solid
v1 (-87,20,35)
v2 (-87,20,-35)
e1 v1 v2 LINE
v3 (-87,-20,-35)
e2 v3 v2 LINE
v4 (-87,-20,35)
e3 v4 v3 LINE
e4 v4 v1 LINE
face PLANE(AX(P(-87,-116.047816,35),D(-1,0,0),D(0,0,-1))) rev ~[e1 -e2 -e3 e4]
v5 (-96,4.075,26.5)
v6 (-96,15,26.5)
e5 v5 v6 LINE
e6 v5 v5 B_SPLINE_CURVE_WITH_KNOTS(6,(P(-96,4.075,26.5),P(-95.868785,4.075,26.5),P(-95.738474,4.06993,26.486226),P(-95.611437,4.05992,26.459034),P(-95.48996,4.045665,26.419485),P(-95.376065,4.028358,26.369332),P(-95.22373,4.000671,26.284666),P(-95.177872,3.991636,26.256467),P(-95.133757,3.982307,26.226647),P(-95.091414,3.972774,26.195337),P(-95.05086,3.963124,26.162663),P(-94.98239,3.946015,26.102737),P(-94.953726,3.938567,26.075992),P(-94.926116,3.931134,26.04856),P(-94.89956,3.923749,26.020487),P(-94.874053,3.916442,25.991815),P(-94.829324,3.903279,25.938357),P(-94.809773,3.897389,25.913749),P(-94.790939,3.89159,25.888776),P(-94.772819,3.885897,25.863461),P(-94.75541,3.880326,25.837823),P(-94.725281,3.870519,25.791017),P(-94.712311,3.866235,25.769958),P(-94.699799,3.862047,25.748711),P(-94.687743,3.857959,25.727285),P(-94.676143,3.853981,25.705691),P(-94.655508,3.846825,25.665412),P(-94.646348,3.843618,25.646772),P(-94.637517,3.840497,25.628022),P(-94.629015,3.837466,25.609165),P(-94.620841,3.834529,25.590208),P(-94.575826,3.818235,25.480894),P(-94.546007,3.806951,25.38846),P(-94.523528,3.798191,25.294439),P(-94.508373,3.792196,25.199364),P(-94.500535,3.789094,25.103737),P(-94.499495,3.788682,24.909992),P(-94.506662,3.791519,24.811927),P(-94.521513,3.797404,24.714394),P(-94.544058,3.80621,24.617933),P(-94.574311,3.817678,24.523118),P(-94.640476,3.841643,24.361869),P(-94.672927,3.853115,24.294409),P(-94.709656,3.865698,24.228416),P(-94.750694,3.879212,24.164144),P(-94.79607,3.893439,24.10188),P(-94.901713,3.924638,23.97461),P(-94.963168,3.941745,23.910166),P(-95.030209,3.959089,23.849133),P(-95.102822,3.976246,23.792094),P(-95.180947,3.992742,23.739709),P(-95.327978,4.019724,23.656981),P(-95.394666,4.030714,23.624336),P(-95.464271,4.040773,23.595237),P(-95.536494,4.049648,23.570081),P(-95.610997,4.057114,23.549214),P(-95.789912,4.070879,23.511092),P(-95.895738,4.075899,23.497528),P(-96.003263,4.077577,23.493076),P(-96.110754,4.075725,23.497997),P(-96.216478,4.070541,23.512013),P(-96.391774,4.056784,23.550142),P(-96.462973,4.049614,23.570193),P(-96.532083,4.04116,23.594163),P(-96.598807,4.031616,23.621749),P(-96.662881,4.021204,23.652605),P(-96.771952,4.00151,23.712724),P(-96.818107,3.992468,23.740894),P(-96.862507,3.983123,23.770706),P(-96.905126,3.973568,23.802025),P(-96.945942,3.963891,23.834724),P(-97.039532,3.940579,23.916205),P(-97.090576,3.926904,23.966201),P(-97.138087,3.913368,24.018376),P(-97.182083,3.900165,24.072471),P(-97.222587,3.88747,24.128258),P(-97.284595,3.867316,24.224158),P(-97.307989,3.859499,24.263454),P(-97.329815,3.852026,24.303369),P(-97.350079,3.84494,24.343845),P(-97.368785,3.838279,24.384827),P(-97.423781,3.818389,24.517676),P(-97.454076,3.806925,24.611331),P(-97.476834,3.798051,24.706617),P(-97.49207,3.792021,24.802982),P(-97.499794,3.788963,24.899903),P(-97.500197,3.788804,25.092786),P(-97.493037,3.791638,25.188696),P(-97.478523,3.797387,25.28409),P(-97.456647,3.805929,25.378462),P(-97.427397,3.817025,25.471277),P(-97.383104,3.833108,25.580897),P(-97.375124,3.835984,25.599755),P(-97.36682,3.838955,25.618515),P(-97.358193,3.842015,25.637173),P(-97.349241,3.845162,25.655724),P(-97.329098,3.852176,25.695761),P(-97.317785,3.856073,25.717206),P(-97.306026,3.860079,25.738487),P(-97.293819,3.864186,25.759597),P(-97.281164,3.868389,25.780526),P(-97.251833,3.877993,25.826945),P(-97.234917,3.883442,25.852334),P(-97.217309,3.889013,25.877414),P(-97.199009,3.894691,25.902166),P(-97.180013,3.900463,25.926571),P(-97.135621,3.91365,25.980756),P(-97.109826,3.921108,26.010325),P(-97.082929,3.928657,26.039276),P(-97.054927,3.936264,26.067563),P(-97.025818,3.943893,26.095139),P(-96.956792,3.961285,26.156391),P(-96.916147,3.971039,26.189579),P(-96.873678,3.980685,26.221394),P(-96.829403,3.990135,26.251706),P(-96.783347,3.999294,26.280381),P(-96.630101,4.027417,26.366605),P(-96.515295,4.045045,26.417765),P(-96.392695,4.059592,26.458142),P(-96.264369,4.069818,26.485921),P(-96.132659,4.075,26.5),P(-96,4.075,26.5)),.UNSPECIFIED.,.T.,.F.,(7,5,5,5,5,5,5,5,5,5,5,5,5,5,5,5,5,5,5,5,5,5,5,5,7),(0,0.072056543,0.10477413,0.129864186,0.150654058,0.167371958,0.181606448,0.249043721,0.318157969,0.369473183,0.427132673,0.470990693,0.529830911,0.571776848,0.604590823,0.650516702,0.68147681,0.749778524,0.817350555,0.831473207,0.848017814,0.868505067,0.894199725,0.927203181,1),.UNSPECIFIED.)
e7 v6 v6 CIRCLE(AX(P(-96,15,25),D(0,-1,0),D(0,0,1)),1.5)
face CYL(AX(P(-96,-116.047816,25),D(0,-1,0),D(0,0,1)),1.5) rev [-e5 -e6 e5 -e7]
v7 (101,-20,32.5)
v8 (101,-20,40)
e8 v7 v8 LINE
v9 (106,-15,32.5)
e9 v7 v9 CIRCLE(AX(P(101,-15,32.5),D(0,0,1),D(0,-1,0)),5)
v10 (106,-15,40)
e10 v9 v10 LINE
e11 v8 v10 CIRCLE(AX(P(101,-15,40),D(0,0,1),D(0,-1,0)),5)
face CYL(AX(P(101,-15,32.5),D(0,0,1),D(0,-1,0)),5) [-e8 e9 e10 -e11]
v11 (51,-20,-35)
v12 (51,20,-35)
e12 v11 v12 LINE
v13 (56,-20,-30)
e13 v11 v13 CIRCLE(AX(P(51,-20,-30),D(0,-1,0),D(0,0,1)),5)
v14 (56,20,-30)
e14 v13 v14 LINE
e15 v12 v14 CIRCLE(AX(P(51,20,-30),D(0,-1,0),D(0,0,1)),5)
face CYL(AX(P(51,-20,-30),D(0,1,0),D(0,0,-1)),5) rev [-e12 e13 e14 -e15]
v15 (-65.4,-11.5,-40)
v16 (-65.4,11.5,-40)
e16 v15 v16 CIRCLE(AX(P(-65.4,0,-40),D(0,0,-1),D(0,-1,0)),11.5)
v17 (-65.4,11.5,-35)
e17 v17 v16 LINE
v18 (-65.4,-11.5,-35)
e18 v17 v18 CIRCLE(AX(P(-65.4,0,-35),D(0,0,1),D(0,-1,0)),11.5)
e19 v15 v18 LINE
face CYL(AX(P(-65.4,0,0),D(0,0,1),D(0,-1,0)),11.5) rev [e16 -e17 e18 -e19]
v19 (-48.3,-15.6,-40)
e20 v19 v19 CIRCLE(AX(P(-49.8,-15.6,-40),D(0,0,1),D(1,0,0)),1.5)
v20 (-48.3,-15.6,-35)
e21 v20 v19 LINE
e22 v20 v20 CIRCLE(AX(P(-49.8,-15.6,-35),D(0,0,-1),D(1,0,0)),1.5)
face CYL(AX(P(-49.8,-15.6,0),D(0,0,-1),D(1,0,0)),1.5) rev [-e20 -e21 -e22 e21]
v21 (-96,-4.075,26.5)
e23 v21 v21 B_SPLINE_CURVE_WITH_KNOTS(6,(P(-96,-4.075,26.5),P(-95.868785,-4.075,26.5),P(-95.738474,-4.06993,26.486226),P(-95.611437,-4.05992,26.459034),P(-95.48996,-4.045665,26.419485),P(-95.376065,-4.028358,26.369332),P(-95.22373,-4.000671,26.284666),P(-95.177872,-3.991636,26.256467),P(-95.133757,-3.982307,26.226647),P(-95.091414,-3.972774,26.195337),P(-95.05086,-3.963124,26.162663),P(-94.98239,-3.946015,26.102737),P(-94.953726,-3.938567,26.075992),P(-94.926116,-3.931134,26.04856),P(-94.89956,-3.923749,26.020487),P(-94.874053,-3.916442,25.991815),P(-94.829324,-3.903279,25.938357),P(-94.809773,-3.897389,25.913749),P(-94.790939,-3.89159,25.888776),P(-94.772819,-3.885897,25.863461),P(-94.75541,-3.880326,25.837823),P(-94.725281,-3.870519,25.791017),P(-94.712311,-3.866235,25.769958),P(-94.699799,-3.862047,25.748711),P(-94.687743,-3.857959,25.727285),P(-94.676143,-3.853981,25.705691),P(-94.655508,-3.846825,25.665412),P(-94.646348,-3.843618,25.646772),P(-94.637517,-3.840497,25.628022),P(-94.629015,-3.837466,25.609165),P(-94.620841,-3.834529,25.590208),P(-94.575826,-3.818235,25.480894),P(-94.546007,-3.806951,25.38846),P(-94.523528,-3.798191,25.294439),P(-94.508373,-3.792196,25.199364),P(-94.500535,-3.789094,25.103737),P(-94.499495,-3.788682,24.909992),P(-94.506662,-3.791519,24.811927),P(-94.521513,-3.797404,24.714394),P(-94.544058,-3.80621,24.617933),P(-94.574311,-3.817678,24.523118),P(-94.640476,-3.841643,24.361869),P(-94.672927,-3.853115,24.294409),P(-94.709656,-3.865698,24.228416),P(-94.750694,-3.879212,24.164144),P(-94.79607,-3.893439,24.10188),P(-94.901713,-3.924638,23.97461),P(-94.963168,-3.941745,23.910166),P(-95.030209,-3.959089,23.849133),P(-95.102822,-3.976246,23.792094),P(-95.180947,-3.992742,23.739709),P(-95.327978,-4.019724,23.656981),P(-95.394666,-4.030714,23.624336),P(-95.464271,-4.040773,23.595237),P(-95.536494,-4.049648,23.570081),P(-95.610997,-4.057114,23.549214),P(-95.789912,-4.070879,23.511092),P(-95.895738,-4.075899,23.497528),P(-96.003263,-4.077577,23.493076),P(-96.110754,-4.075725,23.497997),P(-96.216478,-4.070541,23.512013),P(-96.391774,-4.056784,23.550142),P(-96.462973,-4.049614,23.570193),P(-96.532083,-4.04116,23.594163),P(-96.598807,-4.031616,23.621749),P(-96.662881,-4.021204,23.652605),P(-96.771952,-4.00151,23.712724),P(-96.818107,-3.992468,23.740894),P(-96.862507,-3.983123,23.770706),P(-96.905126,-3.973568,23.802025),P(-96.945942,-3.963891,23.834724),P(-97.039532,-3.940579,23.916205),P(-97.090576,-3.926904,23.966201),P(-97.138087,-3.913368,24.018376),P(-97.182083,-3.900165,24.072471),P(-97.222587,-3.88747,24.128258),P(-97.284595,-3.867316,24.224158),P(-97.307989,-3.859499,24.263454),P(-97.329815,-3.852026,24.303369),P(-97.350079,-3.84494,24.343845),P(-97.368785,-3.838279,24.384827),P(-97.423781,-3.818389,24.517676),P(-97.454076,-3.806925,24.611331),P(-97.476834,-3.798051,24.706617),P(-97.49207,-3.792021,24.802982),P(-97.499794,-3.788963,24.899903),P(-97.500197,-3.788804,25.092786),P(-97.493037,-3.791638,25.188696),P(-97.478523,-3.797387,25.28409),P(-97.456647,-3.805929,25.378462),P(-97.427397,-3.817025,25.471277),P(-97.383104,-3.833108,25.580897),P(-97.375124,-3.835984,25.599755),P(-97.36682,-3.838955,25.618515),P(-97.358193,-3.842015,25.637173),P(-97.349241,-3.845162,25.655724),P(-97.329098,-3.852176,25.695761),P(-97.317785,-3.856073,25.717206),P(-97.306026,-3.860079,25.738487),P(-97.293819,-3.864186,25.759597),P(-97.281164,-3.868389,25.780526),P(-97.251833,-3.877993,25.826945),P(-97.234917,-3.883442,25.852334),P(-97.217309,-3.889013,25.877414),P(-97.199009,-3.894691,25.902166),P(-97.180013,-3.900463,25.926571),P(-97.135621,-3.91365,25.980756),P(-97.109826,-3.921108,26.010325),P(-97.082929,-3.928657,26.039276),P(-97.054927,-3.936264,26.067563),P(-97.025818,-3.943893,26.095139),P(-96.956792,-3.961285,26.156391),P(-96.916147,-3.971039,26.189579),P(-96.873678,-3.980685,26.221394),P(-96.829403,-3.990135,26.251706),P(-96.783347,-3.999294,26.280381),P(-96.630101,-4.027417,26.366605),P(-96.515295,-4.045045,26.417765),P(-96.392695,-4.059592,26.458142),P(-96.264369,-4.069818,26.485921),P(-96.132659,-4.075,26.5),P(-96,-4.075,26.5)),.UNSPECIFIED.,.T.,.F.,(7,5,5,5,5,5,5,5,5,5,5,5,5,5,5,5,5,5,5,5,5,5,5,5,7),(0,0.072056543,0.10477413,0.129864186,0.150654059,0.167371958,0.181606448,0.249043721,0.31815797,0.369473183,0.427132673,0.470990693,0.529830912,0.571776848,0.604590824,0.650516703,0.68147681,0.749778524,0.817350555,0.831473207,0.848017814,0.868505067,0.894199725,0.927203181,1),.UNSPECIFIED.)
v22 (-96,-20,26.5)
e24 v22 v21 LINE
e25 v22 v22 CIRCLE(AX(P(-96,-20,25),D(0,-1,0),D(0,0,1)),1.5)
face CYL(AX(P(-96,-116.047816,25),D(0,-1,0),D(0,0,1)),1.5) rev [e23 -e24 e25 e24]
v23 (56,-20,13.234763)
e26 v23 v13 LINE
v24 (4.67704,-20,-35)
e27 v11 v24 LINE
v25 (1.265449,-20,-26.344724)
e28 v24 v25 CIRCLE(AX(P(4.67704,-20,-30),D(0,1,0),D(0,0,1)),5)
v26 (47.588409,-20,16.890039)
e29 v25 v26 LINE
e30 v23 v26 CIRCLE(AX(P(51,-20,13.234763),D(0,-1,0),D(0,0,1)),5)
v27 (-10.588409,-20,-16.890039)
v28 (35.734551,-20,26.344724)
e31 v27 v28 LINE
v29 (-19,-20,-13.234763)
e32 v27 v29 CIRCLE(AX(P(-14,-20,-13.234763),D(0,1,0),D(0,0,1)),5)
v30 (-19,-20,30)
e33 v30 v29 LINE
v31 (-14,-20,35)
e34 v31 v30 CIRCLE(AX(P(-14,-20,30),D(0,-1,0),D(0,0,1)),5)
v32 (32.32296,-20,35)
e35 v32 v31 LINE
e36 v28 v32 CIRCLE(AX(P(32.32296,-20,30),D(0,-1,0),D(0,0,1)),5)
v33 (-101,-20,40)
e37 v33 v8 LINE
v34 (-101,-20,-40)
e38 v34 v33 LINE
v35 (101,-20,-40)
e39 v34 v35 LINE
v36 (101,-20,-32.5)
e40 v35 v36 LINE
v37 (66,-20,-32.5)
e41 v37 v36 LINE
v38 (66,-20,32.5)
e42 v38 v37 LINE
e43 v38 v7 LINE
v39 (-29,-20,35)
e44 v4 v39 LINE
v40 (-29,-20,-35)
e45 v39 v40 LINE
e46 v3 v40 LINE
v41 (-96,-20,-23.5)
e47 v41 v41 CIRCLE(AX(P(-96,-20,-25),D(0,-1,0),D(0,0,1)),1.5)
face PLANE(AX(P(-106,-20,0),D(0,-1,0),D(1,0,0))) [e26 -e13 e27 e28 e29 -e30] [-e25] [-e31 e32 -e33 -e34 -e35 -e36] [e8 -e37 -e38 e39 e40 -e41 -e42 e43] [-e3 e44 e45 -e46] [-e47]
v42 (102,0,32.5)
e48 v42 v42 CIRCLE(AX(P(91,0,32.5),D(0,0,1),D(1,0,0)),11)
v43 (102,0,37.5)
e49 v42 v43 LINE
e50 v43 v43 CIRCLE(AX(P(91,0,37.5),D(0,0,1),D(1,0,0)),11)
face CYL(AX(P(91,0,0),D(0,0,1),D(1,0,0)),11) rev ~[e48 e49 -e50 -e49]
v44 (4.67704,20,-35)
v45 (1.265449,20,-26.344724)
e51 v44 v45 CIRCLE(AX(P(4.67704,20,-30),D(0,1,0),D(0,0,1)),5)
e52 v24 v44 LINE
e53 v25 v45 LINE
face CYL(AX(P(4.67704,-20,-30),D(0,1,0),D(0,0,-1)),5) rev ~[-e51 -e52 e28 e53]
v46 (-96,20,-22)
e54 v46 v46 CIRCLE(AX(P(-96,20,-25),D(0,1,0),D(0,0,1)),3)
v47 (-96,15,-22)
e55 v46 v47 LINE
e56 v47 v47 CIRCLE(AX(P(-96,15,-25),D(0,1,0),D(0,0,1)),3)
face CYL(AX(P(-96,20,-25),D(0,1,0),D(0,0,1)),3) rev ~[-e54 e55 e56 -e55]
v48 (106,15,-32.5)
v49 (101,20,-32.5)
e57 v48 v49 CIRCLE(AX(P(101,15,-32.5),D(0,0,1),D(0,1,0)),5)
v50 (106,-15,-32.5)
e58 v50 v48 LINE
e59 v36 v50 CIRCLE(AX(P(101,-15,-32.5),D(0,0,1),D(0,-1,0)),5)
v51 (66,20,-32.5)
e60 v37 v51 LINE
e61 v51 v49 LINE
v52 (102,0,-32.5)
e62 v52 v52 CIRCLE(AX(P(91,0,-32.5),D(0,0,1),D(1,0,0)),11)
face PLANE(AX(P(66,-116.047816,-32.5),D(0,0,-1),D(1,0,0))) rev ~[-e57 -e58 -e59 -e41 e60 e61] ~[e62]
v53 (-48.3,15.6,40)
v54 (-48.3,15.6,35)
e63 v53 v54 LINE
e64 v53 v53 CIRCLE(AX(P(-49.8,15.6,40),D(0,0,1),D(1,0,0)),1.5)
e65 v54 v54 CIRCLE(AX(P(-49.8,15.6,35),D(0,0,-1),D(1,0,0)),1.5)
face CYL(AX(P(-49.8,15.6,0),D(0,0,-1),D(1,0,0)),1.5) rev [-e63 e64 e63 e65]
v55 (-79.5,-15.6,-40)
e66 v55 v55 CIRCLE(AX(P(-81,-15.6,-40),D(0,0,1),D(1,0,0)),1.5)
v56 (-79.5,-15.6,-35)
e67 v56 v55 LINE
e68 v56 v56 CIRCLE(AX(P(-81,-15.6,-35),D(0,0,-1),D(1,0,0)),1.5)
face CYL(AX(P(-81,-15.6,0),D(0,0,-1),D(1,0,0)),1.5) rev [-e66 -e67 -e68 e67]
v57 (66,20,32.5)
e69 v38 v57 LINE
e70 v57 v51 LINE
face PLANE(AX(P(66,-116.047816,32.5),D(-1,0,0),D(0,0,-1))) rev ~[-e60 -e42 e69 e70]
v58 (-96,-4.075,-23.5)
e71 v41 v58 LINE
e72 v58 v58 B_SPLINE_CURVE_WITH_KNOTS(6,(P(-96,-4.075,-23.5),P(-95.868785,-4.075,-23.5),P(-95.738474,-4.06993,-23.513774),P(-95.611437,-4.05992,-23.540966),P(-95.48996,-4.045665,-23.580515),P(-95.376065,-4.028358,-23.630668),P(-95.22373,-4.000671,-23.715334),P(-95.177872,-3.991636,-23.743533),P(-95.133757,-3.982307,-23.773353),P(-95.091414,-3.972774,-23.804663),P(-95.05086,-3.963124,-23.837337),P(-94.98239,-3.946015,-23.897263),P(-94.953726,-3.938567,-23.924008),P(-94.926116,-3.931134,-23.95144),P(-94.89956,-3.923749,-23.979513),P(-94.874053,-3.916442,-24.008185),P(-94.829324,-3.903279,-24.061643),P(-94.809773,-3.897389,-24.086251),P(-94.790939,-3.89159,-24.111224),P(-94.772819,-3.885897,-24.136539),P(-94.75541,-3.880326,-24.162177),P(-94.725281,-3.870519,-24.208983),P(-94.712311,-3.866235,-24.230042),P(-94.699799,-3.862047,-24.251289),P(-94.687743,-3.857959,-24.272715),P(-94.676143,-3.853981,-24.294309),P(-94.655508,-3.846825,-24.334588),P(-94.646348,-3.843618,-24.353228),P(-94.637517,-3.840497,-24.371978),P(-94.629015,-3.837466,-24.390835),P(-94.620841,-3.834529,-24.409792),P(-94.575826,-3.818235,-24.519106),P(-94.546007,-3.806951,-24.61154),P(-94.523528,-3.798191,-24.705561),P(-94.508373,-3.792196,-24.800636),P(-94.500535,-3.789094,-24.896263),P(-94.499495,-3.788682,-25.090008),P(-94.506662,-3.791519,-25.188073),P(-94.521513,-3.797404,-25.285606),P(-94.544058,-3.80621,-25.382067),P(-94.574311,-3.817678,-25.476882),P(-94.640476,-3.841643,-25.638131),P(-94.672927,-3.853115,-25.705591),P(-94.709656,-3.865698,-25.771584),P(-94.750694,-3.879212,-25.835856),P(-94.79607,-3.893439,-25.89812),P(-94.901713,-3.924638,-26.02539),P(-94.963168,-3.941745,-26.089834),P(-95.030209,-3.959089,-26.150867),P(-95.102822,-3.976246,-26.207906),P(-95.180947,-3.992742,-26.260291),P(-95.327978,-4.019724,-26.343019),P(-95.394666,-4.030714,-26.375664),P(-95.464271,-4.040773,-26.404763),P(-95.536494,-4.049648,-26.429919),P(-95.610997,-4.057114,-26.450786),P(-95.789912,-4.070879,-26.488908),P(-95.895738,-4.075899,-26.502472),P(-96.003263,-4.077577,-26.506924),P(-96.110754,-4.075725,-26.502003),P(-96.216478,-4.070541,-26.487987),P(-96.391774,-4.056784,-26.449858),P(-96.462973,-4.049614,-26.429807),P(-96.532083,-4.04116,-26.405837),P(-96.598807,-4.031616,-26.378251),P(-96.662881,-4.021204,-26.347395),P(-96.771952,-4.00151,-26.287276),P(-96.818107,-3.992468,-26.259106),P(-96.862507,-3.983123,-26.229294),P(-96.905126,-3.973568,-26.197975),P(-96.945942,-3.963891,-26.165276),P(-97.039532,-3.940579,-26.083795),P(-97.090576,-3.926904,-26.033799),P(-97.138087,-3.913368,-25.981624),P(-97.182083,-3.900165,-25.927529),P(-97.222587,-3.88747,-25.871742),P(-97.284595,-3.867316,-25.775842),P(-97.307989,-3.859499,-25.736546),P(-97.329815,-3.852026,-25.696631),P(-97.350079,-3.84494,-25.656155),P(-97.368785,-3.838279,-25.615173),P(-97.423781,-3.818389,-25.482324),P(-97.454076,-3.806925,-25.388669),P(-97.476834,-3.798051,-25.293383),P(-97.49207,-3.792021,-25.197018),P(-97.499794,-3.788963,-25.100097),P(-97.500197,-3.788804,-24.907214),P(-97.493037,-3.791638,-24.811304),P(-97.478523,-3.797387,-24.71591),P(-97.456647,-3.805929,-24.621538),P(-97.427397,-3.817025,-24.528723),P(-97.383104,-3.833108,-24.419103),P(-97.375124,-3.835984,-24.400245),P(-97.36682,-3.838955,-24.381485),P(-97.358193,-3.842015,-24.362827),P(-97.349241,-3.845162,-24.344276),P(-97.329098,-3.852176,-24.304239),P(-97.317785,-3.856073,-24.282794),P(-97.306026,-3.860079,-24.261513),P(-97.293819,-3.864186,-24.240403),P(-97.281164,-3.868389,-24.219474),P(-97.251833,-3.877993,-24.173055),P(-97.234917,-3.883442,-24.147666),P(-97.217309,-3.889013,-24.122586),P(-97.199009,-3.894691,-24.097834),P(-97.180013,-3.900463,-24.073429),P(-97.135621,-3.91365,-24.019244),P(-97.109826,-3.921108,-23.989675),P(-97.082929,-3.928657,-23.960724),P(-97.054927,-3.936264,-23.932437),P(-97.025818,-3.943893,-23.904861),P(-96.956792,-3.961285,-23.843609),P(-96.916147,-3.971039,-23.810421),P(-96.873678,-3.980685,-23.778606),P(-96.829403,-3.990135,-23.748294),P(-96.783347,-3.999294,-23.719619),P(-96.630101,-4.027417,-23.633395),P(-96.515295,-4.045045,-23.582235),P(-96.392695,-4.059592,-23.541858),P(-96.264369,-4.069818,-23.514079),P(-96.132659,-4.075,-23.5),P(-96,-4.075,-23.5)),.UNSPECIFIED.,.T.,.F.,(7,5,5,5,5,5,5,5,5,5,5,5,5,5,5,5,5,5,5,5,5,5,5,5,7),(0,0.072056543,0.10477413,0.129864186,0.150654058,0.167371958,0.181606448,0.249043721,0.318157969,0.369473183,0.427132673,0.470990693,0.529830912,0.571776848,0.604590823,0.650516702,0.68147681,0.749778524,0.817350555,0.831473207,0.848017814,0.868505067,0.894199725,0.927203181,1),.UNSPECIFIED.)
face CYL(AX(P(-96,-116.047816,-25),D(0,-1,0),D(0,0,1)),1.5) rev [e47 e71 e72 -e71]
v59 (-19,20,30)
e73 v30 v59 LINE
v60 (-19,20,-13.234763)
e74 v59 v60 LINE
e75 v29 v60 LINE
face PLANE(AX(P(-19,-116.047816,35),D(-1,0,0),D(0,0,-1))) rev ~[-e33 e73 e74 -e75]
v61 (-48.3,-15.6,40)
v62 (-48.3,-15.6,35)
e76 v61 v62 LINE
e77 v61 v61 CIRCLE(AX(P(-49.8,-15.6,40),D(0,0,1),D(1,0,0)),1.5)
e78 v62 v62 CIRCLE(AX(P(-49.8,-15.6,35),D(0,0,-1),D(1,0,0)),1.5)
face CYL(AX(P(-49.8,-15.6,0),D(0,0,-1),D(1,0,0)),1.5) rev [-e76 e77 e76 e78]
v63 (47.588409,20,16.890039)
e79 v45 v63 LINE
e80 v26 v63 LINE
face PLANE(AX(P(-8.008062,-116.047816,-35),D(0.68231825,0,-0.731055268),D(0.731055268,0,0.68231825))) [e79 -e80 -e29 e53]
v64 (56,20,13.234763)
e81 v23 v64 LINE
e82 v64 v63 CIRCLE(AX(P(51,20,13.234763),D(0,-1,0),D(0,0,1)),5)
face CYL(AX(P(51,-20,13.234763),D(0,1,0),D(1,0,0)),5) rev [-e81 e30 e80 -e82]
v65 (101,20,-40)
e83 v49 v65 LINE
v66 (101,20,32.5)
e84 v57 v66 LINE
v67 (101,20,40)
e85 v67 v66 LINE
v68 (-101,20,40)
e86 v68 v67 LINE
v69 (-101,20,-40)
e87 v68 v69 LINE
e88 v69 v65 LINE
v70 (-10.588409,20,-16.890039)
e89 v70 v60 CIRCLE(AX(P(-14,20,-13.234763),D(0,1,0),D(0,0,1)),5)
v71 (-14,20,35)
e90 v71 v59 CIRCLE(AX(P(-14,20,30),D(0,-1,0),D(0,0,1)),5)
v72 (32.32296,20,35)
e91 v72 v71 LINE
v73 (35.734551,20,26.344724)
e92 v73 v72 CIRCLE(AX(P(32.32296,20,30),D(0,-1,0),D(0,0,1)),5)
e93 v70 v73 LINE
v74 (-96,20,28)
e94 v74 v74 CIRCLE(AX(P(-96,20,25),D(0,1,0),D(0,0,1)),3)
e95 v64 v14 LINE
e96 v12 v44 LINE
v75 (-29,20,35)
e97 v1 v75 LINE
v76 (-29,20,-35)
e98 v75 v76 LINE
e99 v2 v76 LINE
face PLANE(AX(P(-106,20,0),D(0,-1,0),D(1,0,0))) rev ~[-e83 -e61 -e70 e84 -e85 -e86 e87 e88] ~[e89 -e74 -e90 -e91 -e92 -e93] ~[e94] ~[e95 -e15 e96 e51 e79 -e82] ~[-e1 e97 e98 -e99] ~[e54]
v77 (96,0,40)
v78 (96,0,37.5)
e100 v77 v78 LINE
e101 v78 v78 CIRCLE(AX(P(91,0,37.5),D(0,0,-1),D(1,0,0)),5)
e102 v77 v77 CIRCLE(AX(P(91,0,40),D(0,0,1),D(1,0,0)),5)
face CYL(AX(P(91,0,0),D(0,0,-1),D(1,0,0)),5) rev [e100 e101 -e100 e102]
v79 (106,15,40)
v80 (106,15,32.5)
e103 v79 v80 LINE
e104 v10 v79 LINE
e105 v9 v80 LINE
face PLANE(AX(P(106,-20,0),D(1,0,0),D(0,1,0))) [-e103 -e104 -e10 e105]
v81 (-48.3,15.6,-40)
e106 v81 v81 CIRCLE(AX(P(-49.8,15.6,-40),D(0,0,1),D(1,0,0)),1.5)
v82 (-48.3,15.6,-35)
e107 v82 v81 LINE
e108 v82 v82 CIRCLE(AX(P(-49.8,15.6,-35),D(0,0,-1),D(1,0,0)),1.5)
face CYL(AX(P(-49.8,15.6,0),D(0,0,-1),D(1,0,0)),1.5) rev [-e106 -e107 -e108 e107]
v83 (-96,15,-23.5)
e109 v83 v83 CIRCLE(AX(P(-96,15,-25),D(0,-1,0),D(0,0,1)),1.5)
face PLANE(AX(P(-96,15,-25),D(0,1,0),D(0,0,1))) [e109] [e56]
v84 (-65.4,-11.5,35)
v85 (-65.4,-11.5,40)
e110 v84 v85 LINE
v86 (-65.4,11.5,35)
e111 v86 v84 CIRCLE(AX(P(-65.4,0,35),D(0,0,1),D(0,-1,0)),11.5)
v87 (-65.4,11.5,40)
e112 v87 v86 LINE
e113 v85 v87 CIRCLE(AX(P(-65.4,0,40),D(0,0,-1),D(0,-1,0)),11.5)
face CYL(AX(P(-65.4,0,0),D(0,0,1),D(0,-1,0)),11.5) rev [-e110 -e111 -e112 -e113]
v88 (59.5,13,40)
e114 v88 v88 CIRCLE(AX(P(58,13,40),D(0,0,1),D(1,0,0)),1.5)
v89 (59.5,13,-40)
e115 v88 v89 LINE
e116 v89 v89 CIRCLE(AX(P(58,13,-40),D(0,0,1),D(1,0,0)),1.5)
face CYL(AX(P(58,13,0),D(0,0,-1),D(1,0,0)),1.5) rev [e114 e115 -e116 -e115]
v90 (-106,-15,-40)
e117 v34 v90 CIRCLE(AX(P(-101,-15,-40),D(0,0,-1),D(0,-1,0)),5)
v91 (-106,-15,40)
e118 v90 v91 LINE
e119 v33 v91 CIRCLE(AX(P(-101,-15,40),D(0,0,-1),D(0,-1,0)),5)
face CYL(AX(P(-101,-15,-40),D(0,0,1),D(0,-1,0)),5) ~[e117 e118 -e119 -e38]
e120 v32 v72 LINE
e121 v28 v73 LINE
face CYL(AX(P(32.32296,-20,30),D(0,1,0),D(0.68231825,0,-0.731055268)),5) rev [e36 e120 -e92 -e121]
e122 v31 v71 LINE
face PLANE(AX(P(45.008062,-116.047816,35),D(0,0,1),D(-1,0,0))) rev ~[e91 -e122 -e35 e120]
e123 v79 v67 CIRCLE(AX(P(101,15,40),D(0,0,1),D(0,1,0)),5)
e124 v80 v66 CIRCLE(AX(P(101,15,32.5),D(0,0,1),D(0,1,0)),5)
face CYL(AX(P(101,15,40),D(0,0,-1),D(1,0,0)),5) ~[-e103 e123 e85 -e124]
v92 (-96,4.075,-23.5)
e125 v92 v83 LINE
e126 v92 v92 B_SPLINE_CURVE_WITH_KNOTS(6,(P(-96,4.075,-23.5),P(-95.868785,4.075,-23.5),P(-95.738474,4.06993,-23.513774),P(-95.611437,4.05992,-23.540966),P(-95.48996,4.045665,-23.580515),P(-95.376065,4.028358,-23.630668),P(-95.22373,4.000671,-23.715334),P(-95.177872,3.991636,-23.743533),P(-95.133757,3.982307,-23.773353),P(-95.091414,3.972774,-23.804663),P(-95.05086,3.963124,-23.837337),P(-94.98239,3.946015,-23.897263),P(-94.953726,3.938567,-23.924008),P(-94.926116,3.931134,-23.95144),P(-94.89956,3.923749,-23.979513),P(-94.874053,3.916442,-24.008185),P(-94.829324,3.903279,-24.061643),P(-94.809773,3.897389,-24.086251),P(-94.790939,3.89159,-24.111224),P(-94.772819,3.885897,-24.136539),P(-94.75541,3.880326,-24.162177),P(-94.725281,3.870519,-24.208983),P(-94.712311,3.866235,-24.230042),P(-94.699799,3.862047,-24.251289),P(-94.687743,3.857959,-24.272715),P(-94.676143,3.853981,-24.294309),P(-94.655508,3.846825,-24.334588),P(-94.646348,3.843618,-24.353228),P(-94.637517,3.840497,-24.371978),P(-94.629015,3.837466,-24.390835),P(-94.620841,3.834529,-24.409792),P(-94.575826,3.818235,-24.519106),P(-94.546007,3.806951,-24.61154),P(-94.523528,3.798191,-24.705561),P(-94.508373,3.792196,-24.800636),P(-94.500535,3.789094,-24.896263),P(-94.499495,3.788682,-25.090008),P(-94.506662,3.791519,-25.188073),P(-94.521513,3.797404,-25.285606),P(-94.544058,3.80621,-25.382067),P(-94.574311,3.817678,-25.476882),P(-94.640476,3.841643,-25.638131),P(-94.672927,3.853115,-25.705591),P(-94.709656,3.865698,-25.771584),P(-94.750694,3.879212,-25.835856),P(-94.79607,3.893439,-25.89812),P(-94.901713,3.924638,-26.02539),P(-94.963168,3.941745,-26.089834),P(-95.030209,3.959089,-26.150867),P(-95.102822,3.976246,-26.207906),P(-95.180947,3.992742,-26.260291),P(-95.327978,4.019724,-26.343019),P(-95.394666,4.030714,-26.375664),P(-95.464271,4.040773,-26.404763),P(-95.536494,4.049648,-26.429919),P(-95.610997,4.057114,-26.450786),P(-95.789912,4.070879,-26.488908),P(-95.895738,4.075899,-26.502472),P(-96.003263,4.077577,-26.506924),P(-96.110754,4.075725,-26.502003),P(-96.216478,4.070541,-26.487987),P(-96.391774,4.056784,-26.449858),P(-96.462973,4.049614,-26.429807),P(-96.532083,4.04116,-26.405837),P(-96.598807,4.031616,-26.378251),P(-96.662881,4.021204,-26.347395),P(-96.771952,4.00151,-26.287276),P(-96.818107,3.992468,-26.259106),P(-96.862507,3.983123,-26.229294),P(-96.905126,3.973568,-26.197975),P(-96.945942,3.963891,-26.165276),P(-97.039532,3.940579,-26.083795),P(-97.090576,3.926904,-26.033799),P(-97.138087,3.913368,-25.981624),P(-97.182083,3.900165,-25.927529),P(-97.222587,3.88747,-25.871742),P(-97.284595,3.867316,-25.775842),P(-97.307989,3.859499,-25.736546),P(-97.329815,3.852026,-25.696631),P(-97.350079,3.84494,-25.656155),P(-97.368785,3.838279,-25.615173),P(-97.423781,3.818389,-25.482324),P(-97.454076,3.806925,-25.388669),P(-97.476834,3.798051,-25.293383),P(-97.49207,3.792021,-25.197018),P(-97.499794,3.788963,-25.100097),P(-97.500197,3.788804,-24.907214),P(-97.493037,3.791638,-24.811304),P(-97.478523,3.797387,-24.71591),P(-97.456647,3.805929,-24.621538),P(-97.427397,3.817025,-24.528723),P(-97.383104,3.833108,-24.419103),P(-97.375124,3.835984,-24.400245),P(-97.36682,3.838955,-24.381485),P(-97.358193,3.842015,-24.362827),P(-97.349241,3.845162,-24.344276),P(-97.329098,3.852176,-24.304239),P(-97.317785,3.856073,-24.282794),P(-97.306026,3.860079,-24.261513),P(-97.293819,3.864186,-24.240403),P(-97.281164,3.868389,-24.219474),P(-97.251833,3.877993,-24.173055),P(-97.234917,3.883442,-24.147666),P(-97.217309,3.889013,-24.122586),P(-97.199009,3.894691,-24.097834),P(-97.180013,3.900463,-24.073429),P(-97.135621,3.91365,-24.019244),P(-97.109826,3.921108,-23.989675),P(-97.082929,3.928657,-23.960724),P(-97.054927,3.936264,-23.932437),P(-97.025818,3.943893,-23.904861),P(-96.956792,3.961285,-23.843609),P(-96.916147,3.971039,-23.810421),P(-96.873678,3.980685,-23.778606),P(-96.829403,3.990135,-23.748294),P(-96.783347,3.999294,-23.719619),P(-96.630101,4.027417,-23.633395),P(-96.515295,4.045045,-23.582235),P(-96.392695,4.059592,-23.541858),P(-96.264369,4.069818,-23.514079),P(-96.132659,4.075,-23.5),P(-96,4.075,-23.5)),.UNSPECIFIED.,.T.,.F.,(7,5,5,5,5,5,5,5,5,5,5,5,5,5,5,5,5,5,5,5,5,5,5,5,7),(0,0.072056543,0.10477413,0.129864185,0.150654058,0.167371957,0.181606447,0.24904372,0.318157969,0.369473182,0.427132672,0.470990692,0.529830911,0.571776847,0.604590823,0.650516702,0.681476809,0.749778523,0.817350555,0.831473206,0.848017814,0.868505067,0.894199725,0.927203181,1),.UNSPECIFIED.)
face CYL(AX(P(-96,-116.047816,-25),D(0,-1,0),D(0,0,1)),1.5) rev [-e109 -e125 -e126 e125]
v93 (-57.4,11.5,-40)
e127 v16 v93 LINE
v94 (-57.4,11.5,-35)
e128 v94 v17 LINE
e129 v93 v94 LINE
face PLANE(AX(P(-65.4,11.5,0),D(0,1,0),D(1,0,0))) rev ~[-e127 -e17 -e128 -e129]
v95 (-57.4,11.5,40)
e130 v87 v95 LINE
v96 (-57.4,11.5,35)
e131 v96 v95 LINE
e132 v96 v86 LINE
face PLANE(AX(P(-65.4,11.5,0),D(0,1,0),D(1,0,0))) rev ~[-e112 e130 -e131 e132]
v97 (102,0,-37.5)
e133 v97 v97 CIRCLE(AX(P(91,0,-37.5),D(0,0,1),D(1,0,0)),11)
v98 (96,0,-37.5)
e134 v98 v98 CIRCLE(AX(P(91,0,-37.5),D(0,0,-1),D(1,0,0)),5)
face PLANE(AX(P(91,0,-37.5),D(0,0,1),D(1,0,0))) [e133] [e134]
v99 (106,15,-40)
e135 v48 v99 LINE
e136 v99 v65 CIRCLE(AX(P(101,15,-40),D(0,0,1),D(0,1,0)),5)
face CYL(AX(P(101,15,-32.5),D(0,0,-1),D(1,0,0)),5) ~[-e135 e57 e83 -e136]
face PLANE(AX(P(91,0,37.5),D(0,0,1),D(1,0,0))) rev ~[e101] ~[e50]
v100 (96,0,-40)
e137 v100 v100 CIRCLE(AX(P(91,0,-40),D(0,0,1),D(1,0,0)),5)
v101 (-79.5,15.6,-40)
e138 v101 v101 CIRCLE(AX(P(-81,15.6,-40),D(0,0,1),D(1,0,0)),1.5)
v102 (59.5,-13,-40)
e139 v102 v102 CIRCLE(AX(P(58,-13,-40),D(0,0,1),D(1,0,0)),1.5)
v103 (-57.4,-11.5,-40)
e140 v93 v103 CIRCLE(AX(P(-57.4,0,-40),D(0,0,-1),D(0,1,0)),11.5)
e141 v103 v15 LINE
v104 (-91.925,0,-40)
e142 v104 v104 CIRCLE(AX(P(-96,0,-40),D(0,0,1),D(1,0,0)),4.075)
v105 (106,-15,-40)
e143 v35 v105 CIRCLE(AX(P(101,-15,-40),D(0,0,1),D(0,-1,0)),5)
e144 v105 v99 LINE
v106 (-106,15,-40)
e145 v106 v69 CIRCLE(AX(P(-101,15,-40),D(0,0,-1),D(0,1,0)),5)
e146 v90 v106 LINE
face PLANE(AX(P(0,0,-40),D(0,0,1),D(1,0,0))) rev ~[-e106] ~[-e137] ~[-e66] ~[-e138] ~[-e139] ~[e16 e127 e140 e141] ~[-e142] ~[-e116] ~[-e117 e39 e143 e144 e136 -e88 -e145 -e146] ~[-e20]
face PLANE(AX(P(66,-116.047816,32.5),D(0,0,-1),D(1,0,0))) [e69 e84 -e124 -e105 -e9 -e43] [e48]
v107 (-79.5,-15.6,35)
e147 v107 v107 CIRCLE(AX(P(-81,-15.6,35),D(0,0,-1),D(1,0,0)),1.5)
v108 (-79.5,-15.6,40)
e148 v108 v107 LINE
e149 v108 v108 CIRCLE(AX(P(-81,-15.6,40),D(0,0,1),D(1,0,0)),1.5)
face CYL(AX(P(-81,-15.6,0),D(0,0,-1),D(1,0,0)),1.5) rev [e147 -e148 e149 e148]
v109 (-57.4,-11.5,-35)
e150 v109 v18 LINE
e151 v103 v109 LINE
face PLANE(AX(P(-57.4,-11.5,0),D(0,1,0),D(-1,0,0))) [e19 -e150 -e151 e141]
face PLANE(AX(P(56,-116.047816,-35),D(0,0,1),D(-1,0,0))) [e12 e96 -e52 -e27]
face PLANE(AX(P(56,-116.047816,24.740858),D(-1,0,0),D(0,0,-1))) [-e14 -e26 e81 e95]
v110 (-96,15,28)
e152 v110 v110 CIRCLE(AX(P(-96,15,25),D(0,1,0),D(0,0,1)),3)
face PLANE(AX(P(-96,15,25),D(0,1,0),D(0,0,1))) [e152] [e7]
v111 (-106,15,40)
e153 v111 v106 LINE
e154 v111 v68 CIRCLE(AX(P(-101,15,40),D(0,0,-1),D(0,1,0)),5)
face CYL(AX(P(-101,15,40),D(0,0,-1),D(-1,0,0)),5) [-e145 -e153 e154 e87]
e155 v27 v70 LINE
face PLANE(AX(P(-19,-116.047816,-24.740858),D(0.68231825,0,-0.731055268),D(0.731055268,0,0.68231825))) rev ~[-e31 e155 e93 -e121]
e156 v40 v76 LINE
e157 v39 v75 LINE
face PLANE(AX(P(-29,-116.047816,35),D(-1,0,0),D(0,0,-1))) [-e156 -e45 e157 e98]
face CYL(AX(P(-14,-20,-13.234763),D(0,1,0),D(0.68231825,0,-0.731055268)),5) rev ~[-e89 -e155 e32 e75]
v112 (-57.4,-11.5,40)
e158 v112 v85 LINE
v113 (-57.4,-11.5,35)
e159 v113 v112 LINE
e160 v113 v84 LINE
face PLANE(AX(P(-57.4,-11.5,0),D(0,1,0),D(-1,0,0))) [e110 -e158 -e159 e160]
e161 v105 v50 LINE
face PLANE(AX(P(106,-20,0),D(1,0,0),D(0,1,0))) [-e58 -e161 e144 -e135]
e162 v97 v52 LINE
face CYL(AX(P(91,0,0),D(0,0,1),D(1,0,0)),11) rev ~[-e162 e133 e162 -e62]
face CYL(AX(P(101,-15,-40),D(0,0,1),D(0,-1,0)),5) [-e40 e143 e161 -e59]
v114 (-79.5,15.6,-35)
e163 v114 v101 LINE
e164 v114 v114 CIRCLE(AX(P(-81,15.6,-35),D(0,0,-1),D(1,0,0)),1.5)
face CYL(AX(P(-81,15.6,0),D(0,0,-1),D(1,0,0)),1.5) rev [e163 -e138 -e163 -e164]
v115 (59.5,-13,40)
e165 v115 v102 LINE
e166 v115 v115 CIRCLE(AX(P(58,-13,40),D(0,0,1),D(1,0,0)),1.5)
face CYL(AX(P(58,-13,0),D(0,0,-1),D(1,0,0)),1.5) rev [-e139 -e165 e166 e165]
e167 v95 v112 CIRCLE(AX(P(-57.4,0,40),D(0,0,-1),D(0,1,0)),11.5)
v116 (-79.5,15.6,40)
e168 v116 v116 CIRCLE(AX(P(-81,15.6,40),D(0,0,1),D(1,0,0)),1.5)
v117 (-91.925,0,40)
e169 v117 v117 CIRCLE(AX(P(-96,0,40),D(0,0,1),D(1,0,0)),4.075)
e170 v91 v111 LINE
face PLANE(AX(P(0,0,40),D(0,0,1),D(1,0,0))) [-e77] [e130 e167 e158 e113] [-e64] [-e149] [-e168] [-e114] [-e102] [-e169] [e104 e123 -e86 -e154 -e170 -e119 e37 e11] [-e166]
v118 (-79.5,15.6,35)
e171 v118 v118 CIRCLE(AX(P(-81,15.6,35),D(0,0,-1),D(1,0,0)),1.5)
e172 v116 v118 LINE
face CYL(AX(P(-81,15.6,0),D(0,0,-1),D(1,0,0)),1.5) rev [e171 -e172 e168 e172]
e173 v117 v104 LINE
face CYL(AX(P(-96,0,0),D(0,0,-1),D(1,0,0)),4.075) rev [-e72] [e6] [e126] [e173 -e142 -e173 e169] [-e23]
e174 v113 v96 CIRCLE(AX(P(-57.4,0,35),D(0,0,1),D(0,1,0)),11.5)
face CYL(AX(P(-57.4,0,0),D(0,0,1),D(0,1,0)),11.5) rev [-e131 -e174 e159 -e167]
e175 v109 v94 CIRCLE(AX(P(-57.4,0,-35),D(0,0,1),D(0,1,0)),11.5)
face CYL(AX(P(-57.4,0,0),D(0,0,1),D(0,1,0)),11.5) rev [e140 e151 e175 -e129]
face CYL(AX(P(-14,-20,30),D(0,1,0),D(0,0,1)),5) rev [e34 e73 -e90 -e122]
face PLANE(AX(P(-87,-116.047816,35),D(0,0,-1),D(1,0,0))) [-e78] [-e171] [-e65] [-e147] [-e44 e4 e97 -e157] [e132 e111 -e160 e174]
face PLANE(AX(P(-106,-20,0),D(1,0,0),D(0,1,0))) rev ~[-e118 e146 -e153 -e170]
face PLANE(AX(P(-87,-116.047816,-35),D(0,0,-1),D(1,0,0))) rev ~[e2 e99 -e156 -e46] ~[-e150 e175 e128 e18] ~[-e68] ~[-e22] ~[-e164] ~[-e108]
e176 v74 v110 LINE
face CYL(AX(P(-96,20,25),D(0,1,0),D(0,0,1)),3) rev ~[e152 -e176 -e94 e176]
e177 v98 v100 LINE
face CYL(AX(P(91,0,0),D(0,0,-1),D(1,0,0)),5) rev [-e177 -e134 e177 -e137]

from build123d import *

# Parameters (mm, degrees)
SKETCH1_W               = 212
SKETCH1_H               = 40
SKETCH1_R               = 4.075
SKETCH1_R_2             = 1.5
SKETCH1_R_3             = 5
BOSS_EXTRUDE1_DEPTH     = 40
CUT_EXTRUDE3_DEPTH      = 116.047816146
CUT_EXTRUDE3_DEPTH_BACK = 116.047816146
SKETCH2_R               = 1.5
SKETCH2_W               = 58
SKETCH2_H               = 70
SKETCH2_W_2             = 40
SKETCH2_H_2             = 65
FILLET1_R               = 5
FILLET2_R               = 5
SKETCH4_R               = 11
CUT_EXTRUDE4_DEPTH      = 37.5
SKETCH5_R               = 3
CUT_EXTRUDE5_DEPTH      = 5


with BuildPart() as part:
    # Sketch1 → Boss-Extrude1 (new, symmetric)
    with BuildSketch(Plane.XY):
        Rectangle(SKETCH1_W, SKETCH1_H)
        with Locations((-96, 0)):
            Circle(SKETCH1_R, mode=Mode.SUBTRACT)
        with Locations((-81, 15.6)):
            Circle(SKETCH1_R_2, mode=Mode.SUBTRACT)
        with Locations((-49.8, 15.6)):
            Circle(SKETCH1_R_2, mode=Mode.SUBTRACT)
        with Locations((-81, -15.6)):
            Circle(SKETCH1_R_2, mode=Mode.SUBTRACT)
        with Locations((-49.8, -15.6)):
            Circle(SKETCH1_R_2, mode=Mode.SUBTRACT)
        with Locations((91, 0)):
            Circle(SKETCH1_R_3, mode=Mode.SUBTRACT)
        with Locations((58, 13)):
            Circle(SKETCH1_R_2, mode=Mode.SUBTRACT)
        with Locations((58, -13)):
            Circle(SKETCH1_R_2, mode=Mode.SUBTRACT)
        with BuildLine():
            Line((-65.4, 11.5), (-57.4, 11.5))
            ThreePointArc((-57.4, 11.5), (-45.9, 0), (-57.4, -11.5))
            Line((-57.4, -11.5), (-65.4, -11.5))
            ThreePointArc((-65.4, -11.5), (-76.9, 0), (-65.4, 11.5))
        make_face(mode=Mode.SUBTRACT)
    extrude(amount=BOSS_EXTRUDE1_DEPTH, both=True)

    # Sketch2 → Cut-Extrude3 (cut, two sides: drawn at the far end of the back side and taken through both)
    with BuildSketch(Plane(origin=(0, 0, 0), x_dir=(1, 0, 0), z_dir=(0, 1, 0)).offset(-CUT_EXTRUDE3_DEPTH_BACK)):
        with Locations(Location((-96, 25, 0), (0, 0, 270))):
            Circle(SKETCH2_R)
        with Locations(Location((-96, -25, 0), (0, 0, 270))):
            Circle(SKETCH2_R)
        with Locations((-58, 0)):
            Rectangle(SKETCH2_W, SKETCH2_H)
        Polygon((-19, 24.740857736), (45.00806186, -35), (-19, -35), align=None)
        with Locations((86, 0)):
            Rectangle(SKETCH2_W_2, SKETCH2_H_2)
        Polygon((-8.00806186, 35), (56, -24.740857736), (56, 35), align=None)
    extrude(amount=CUT_EXTRUDE3_DEPTH + CUT_EXTRUDE3_DEPTH_BACK, mode=Mode.SUBTRACT)

    # Fillet1
    fillet1_edges = [part.edges().sort_by_distance(p)[0] for p in [
        (56, 0, -35),
        (56, 0, 24.740857736),
        (-8.00806186, 0, -35),
        (45.00806186, 0, 35),
        (-19, 0, 35),
        (-19, 0, -24.740857736),
    ]]
    fillet(fillet1_edges, radius=FILLET1_R)

    # Fillet2
    fillet2_edges = [part.edges().sort_by_distance(p)[0] for p in [
        (106, -20, 36.25),
        (-106, -20, 0),
        (-106, 20, 0),
        (106, 20, 36.25),
        (106, -20, -36.25),
        (106, 20, -36.25),
    ]]
    fillet(fillet2_edges, radius=FILLET2_R)

    # Sketch4 → Cut-Extrude4 (cut, symmetric)
    with BuildSketch(Plane.XY):
        with Locations((91, 0)):
            Circle(SKETCH4_R)
    extrude(amount=CUT_EXTRUDE4_DEPTH, both=True, mode=Mode.SUBTRACT)

    # Sketch5 → Cut-Extrude5 (cut)
    with BuildSketch(Plane(origin=(0, 20, 0), x_dir=(1, 0, 0), z_dir=(0, 1, 0))):
        with Locations(Location((-96, 25, 0), (0, 0, 270))):
            Circle(SKETCH5_R)
        with Locations(Location((-96, -25, 0), (0, 0, 270))):
            Circle(SKETCH5_R)
    extrude(amount=-CUT_EXTRUDE5_DEPTH, mode=Mode.SUBTRACT)


solid = part.part
